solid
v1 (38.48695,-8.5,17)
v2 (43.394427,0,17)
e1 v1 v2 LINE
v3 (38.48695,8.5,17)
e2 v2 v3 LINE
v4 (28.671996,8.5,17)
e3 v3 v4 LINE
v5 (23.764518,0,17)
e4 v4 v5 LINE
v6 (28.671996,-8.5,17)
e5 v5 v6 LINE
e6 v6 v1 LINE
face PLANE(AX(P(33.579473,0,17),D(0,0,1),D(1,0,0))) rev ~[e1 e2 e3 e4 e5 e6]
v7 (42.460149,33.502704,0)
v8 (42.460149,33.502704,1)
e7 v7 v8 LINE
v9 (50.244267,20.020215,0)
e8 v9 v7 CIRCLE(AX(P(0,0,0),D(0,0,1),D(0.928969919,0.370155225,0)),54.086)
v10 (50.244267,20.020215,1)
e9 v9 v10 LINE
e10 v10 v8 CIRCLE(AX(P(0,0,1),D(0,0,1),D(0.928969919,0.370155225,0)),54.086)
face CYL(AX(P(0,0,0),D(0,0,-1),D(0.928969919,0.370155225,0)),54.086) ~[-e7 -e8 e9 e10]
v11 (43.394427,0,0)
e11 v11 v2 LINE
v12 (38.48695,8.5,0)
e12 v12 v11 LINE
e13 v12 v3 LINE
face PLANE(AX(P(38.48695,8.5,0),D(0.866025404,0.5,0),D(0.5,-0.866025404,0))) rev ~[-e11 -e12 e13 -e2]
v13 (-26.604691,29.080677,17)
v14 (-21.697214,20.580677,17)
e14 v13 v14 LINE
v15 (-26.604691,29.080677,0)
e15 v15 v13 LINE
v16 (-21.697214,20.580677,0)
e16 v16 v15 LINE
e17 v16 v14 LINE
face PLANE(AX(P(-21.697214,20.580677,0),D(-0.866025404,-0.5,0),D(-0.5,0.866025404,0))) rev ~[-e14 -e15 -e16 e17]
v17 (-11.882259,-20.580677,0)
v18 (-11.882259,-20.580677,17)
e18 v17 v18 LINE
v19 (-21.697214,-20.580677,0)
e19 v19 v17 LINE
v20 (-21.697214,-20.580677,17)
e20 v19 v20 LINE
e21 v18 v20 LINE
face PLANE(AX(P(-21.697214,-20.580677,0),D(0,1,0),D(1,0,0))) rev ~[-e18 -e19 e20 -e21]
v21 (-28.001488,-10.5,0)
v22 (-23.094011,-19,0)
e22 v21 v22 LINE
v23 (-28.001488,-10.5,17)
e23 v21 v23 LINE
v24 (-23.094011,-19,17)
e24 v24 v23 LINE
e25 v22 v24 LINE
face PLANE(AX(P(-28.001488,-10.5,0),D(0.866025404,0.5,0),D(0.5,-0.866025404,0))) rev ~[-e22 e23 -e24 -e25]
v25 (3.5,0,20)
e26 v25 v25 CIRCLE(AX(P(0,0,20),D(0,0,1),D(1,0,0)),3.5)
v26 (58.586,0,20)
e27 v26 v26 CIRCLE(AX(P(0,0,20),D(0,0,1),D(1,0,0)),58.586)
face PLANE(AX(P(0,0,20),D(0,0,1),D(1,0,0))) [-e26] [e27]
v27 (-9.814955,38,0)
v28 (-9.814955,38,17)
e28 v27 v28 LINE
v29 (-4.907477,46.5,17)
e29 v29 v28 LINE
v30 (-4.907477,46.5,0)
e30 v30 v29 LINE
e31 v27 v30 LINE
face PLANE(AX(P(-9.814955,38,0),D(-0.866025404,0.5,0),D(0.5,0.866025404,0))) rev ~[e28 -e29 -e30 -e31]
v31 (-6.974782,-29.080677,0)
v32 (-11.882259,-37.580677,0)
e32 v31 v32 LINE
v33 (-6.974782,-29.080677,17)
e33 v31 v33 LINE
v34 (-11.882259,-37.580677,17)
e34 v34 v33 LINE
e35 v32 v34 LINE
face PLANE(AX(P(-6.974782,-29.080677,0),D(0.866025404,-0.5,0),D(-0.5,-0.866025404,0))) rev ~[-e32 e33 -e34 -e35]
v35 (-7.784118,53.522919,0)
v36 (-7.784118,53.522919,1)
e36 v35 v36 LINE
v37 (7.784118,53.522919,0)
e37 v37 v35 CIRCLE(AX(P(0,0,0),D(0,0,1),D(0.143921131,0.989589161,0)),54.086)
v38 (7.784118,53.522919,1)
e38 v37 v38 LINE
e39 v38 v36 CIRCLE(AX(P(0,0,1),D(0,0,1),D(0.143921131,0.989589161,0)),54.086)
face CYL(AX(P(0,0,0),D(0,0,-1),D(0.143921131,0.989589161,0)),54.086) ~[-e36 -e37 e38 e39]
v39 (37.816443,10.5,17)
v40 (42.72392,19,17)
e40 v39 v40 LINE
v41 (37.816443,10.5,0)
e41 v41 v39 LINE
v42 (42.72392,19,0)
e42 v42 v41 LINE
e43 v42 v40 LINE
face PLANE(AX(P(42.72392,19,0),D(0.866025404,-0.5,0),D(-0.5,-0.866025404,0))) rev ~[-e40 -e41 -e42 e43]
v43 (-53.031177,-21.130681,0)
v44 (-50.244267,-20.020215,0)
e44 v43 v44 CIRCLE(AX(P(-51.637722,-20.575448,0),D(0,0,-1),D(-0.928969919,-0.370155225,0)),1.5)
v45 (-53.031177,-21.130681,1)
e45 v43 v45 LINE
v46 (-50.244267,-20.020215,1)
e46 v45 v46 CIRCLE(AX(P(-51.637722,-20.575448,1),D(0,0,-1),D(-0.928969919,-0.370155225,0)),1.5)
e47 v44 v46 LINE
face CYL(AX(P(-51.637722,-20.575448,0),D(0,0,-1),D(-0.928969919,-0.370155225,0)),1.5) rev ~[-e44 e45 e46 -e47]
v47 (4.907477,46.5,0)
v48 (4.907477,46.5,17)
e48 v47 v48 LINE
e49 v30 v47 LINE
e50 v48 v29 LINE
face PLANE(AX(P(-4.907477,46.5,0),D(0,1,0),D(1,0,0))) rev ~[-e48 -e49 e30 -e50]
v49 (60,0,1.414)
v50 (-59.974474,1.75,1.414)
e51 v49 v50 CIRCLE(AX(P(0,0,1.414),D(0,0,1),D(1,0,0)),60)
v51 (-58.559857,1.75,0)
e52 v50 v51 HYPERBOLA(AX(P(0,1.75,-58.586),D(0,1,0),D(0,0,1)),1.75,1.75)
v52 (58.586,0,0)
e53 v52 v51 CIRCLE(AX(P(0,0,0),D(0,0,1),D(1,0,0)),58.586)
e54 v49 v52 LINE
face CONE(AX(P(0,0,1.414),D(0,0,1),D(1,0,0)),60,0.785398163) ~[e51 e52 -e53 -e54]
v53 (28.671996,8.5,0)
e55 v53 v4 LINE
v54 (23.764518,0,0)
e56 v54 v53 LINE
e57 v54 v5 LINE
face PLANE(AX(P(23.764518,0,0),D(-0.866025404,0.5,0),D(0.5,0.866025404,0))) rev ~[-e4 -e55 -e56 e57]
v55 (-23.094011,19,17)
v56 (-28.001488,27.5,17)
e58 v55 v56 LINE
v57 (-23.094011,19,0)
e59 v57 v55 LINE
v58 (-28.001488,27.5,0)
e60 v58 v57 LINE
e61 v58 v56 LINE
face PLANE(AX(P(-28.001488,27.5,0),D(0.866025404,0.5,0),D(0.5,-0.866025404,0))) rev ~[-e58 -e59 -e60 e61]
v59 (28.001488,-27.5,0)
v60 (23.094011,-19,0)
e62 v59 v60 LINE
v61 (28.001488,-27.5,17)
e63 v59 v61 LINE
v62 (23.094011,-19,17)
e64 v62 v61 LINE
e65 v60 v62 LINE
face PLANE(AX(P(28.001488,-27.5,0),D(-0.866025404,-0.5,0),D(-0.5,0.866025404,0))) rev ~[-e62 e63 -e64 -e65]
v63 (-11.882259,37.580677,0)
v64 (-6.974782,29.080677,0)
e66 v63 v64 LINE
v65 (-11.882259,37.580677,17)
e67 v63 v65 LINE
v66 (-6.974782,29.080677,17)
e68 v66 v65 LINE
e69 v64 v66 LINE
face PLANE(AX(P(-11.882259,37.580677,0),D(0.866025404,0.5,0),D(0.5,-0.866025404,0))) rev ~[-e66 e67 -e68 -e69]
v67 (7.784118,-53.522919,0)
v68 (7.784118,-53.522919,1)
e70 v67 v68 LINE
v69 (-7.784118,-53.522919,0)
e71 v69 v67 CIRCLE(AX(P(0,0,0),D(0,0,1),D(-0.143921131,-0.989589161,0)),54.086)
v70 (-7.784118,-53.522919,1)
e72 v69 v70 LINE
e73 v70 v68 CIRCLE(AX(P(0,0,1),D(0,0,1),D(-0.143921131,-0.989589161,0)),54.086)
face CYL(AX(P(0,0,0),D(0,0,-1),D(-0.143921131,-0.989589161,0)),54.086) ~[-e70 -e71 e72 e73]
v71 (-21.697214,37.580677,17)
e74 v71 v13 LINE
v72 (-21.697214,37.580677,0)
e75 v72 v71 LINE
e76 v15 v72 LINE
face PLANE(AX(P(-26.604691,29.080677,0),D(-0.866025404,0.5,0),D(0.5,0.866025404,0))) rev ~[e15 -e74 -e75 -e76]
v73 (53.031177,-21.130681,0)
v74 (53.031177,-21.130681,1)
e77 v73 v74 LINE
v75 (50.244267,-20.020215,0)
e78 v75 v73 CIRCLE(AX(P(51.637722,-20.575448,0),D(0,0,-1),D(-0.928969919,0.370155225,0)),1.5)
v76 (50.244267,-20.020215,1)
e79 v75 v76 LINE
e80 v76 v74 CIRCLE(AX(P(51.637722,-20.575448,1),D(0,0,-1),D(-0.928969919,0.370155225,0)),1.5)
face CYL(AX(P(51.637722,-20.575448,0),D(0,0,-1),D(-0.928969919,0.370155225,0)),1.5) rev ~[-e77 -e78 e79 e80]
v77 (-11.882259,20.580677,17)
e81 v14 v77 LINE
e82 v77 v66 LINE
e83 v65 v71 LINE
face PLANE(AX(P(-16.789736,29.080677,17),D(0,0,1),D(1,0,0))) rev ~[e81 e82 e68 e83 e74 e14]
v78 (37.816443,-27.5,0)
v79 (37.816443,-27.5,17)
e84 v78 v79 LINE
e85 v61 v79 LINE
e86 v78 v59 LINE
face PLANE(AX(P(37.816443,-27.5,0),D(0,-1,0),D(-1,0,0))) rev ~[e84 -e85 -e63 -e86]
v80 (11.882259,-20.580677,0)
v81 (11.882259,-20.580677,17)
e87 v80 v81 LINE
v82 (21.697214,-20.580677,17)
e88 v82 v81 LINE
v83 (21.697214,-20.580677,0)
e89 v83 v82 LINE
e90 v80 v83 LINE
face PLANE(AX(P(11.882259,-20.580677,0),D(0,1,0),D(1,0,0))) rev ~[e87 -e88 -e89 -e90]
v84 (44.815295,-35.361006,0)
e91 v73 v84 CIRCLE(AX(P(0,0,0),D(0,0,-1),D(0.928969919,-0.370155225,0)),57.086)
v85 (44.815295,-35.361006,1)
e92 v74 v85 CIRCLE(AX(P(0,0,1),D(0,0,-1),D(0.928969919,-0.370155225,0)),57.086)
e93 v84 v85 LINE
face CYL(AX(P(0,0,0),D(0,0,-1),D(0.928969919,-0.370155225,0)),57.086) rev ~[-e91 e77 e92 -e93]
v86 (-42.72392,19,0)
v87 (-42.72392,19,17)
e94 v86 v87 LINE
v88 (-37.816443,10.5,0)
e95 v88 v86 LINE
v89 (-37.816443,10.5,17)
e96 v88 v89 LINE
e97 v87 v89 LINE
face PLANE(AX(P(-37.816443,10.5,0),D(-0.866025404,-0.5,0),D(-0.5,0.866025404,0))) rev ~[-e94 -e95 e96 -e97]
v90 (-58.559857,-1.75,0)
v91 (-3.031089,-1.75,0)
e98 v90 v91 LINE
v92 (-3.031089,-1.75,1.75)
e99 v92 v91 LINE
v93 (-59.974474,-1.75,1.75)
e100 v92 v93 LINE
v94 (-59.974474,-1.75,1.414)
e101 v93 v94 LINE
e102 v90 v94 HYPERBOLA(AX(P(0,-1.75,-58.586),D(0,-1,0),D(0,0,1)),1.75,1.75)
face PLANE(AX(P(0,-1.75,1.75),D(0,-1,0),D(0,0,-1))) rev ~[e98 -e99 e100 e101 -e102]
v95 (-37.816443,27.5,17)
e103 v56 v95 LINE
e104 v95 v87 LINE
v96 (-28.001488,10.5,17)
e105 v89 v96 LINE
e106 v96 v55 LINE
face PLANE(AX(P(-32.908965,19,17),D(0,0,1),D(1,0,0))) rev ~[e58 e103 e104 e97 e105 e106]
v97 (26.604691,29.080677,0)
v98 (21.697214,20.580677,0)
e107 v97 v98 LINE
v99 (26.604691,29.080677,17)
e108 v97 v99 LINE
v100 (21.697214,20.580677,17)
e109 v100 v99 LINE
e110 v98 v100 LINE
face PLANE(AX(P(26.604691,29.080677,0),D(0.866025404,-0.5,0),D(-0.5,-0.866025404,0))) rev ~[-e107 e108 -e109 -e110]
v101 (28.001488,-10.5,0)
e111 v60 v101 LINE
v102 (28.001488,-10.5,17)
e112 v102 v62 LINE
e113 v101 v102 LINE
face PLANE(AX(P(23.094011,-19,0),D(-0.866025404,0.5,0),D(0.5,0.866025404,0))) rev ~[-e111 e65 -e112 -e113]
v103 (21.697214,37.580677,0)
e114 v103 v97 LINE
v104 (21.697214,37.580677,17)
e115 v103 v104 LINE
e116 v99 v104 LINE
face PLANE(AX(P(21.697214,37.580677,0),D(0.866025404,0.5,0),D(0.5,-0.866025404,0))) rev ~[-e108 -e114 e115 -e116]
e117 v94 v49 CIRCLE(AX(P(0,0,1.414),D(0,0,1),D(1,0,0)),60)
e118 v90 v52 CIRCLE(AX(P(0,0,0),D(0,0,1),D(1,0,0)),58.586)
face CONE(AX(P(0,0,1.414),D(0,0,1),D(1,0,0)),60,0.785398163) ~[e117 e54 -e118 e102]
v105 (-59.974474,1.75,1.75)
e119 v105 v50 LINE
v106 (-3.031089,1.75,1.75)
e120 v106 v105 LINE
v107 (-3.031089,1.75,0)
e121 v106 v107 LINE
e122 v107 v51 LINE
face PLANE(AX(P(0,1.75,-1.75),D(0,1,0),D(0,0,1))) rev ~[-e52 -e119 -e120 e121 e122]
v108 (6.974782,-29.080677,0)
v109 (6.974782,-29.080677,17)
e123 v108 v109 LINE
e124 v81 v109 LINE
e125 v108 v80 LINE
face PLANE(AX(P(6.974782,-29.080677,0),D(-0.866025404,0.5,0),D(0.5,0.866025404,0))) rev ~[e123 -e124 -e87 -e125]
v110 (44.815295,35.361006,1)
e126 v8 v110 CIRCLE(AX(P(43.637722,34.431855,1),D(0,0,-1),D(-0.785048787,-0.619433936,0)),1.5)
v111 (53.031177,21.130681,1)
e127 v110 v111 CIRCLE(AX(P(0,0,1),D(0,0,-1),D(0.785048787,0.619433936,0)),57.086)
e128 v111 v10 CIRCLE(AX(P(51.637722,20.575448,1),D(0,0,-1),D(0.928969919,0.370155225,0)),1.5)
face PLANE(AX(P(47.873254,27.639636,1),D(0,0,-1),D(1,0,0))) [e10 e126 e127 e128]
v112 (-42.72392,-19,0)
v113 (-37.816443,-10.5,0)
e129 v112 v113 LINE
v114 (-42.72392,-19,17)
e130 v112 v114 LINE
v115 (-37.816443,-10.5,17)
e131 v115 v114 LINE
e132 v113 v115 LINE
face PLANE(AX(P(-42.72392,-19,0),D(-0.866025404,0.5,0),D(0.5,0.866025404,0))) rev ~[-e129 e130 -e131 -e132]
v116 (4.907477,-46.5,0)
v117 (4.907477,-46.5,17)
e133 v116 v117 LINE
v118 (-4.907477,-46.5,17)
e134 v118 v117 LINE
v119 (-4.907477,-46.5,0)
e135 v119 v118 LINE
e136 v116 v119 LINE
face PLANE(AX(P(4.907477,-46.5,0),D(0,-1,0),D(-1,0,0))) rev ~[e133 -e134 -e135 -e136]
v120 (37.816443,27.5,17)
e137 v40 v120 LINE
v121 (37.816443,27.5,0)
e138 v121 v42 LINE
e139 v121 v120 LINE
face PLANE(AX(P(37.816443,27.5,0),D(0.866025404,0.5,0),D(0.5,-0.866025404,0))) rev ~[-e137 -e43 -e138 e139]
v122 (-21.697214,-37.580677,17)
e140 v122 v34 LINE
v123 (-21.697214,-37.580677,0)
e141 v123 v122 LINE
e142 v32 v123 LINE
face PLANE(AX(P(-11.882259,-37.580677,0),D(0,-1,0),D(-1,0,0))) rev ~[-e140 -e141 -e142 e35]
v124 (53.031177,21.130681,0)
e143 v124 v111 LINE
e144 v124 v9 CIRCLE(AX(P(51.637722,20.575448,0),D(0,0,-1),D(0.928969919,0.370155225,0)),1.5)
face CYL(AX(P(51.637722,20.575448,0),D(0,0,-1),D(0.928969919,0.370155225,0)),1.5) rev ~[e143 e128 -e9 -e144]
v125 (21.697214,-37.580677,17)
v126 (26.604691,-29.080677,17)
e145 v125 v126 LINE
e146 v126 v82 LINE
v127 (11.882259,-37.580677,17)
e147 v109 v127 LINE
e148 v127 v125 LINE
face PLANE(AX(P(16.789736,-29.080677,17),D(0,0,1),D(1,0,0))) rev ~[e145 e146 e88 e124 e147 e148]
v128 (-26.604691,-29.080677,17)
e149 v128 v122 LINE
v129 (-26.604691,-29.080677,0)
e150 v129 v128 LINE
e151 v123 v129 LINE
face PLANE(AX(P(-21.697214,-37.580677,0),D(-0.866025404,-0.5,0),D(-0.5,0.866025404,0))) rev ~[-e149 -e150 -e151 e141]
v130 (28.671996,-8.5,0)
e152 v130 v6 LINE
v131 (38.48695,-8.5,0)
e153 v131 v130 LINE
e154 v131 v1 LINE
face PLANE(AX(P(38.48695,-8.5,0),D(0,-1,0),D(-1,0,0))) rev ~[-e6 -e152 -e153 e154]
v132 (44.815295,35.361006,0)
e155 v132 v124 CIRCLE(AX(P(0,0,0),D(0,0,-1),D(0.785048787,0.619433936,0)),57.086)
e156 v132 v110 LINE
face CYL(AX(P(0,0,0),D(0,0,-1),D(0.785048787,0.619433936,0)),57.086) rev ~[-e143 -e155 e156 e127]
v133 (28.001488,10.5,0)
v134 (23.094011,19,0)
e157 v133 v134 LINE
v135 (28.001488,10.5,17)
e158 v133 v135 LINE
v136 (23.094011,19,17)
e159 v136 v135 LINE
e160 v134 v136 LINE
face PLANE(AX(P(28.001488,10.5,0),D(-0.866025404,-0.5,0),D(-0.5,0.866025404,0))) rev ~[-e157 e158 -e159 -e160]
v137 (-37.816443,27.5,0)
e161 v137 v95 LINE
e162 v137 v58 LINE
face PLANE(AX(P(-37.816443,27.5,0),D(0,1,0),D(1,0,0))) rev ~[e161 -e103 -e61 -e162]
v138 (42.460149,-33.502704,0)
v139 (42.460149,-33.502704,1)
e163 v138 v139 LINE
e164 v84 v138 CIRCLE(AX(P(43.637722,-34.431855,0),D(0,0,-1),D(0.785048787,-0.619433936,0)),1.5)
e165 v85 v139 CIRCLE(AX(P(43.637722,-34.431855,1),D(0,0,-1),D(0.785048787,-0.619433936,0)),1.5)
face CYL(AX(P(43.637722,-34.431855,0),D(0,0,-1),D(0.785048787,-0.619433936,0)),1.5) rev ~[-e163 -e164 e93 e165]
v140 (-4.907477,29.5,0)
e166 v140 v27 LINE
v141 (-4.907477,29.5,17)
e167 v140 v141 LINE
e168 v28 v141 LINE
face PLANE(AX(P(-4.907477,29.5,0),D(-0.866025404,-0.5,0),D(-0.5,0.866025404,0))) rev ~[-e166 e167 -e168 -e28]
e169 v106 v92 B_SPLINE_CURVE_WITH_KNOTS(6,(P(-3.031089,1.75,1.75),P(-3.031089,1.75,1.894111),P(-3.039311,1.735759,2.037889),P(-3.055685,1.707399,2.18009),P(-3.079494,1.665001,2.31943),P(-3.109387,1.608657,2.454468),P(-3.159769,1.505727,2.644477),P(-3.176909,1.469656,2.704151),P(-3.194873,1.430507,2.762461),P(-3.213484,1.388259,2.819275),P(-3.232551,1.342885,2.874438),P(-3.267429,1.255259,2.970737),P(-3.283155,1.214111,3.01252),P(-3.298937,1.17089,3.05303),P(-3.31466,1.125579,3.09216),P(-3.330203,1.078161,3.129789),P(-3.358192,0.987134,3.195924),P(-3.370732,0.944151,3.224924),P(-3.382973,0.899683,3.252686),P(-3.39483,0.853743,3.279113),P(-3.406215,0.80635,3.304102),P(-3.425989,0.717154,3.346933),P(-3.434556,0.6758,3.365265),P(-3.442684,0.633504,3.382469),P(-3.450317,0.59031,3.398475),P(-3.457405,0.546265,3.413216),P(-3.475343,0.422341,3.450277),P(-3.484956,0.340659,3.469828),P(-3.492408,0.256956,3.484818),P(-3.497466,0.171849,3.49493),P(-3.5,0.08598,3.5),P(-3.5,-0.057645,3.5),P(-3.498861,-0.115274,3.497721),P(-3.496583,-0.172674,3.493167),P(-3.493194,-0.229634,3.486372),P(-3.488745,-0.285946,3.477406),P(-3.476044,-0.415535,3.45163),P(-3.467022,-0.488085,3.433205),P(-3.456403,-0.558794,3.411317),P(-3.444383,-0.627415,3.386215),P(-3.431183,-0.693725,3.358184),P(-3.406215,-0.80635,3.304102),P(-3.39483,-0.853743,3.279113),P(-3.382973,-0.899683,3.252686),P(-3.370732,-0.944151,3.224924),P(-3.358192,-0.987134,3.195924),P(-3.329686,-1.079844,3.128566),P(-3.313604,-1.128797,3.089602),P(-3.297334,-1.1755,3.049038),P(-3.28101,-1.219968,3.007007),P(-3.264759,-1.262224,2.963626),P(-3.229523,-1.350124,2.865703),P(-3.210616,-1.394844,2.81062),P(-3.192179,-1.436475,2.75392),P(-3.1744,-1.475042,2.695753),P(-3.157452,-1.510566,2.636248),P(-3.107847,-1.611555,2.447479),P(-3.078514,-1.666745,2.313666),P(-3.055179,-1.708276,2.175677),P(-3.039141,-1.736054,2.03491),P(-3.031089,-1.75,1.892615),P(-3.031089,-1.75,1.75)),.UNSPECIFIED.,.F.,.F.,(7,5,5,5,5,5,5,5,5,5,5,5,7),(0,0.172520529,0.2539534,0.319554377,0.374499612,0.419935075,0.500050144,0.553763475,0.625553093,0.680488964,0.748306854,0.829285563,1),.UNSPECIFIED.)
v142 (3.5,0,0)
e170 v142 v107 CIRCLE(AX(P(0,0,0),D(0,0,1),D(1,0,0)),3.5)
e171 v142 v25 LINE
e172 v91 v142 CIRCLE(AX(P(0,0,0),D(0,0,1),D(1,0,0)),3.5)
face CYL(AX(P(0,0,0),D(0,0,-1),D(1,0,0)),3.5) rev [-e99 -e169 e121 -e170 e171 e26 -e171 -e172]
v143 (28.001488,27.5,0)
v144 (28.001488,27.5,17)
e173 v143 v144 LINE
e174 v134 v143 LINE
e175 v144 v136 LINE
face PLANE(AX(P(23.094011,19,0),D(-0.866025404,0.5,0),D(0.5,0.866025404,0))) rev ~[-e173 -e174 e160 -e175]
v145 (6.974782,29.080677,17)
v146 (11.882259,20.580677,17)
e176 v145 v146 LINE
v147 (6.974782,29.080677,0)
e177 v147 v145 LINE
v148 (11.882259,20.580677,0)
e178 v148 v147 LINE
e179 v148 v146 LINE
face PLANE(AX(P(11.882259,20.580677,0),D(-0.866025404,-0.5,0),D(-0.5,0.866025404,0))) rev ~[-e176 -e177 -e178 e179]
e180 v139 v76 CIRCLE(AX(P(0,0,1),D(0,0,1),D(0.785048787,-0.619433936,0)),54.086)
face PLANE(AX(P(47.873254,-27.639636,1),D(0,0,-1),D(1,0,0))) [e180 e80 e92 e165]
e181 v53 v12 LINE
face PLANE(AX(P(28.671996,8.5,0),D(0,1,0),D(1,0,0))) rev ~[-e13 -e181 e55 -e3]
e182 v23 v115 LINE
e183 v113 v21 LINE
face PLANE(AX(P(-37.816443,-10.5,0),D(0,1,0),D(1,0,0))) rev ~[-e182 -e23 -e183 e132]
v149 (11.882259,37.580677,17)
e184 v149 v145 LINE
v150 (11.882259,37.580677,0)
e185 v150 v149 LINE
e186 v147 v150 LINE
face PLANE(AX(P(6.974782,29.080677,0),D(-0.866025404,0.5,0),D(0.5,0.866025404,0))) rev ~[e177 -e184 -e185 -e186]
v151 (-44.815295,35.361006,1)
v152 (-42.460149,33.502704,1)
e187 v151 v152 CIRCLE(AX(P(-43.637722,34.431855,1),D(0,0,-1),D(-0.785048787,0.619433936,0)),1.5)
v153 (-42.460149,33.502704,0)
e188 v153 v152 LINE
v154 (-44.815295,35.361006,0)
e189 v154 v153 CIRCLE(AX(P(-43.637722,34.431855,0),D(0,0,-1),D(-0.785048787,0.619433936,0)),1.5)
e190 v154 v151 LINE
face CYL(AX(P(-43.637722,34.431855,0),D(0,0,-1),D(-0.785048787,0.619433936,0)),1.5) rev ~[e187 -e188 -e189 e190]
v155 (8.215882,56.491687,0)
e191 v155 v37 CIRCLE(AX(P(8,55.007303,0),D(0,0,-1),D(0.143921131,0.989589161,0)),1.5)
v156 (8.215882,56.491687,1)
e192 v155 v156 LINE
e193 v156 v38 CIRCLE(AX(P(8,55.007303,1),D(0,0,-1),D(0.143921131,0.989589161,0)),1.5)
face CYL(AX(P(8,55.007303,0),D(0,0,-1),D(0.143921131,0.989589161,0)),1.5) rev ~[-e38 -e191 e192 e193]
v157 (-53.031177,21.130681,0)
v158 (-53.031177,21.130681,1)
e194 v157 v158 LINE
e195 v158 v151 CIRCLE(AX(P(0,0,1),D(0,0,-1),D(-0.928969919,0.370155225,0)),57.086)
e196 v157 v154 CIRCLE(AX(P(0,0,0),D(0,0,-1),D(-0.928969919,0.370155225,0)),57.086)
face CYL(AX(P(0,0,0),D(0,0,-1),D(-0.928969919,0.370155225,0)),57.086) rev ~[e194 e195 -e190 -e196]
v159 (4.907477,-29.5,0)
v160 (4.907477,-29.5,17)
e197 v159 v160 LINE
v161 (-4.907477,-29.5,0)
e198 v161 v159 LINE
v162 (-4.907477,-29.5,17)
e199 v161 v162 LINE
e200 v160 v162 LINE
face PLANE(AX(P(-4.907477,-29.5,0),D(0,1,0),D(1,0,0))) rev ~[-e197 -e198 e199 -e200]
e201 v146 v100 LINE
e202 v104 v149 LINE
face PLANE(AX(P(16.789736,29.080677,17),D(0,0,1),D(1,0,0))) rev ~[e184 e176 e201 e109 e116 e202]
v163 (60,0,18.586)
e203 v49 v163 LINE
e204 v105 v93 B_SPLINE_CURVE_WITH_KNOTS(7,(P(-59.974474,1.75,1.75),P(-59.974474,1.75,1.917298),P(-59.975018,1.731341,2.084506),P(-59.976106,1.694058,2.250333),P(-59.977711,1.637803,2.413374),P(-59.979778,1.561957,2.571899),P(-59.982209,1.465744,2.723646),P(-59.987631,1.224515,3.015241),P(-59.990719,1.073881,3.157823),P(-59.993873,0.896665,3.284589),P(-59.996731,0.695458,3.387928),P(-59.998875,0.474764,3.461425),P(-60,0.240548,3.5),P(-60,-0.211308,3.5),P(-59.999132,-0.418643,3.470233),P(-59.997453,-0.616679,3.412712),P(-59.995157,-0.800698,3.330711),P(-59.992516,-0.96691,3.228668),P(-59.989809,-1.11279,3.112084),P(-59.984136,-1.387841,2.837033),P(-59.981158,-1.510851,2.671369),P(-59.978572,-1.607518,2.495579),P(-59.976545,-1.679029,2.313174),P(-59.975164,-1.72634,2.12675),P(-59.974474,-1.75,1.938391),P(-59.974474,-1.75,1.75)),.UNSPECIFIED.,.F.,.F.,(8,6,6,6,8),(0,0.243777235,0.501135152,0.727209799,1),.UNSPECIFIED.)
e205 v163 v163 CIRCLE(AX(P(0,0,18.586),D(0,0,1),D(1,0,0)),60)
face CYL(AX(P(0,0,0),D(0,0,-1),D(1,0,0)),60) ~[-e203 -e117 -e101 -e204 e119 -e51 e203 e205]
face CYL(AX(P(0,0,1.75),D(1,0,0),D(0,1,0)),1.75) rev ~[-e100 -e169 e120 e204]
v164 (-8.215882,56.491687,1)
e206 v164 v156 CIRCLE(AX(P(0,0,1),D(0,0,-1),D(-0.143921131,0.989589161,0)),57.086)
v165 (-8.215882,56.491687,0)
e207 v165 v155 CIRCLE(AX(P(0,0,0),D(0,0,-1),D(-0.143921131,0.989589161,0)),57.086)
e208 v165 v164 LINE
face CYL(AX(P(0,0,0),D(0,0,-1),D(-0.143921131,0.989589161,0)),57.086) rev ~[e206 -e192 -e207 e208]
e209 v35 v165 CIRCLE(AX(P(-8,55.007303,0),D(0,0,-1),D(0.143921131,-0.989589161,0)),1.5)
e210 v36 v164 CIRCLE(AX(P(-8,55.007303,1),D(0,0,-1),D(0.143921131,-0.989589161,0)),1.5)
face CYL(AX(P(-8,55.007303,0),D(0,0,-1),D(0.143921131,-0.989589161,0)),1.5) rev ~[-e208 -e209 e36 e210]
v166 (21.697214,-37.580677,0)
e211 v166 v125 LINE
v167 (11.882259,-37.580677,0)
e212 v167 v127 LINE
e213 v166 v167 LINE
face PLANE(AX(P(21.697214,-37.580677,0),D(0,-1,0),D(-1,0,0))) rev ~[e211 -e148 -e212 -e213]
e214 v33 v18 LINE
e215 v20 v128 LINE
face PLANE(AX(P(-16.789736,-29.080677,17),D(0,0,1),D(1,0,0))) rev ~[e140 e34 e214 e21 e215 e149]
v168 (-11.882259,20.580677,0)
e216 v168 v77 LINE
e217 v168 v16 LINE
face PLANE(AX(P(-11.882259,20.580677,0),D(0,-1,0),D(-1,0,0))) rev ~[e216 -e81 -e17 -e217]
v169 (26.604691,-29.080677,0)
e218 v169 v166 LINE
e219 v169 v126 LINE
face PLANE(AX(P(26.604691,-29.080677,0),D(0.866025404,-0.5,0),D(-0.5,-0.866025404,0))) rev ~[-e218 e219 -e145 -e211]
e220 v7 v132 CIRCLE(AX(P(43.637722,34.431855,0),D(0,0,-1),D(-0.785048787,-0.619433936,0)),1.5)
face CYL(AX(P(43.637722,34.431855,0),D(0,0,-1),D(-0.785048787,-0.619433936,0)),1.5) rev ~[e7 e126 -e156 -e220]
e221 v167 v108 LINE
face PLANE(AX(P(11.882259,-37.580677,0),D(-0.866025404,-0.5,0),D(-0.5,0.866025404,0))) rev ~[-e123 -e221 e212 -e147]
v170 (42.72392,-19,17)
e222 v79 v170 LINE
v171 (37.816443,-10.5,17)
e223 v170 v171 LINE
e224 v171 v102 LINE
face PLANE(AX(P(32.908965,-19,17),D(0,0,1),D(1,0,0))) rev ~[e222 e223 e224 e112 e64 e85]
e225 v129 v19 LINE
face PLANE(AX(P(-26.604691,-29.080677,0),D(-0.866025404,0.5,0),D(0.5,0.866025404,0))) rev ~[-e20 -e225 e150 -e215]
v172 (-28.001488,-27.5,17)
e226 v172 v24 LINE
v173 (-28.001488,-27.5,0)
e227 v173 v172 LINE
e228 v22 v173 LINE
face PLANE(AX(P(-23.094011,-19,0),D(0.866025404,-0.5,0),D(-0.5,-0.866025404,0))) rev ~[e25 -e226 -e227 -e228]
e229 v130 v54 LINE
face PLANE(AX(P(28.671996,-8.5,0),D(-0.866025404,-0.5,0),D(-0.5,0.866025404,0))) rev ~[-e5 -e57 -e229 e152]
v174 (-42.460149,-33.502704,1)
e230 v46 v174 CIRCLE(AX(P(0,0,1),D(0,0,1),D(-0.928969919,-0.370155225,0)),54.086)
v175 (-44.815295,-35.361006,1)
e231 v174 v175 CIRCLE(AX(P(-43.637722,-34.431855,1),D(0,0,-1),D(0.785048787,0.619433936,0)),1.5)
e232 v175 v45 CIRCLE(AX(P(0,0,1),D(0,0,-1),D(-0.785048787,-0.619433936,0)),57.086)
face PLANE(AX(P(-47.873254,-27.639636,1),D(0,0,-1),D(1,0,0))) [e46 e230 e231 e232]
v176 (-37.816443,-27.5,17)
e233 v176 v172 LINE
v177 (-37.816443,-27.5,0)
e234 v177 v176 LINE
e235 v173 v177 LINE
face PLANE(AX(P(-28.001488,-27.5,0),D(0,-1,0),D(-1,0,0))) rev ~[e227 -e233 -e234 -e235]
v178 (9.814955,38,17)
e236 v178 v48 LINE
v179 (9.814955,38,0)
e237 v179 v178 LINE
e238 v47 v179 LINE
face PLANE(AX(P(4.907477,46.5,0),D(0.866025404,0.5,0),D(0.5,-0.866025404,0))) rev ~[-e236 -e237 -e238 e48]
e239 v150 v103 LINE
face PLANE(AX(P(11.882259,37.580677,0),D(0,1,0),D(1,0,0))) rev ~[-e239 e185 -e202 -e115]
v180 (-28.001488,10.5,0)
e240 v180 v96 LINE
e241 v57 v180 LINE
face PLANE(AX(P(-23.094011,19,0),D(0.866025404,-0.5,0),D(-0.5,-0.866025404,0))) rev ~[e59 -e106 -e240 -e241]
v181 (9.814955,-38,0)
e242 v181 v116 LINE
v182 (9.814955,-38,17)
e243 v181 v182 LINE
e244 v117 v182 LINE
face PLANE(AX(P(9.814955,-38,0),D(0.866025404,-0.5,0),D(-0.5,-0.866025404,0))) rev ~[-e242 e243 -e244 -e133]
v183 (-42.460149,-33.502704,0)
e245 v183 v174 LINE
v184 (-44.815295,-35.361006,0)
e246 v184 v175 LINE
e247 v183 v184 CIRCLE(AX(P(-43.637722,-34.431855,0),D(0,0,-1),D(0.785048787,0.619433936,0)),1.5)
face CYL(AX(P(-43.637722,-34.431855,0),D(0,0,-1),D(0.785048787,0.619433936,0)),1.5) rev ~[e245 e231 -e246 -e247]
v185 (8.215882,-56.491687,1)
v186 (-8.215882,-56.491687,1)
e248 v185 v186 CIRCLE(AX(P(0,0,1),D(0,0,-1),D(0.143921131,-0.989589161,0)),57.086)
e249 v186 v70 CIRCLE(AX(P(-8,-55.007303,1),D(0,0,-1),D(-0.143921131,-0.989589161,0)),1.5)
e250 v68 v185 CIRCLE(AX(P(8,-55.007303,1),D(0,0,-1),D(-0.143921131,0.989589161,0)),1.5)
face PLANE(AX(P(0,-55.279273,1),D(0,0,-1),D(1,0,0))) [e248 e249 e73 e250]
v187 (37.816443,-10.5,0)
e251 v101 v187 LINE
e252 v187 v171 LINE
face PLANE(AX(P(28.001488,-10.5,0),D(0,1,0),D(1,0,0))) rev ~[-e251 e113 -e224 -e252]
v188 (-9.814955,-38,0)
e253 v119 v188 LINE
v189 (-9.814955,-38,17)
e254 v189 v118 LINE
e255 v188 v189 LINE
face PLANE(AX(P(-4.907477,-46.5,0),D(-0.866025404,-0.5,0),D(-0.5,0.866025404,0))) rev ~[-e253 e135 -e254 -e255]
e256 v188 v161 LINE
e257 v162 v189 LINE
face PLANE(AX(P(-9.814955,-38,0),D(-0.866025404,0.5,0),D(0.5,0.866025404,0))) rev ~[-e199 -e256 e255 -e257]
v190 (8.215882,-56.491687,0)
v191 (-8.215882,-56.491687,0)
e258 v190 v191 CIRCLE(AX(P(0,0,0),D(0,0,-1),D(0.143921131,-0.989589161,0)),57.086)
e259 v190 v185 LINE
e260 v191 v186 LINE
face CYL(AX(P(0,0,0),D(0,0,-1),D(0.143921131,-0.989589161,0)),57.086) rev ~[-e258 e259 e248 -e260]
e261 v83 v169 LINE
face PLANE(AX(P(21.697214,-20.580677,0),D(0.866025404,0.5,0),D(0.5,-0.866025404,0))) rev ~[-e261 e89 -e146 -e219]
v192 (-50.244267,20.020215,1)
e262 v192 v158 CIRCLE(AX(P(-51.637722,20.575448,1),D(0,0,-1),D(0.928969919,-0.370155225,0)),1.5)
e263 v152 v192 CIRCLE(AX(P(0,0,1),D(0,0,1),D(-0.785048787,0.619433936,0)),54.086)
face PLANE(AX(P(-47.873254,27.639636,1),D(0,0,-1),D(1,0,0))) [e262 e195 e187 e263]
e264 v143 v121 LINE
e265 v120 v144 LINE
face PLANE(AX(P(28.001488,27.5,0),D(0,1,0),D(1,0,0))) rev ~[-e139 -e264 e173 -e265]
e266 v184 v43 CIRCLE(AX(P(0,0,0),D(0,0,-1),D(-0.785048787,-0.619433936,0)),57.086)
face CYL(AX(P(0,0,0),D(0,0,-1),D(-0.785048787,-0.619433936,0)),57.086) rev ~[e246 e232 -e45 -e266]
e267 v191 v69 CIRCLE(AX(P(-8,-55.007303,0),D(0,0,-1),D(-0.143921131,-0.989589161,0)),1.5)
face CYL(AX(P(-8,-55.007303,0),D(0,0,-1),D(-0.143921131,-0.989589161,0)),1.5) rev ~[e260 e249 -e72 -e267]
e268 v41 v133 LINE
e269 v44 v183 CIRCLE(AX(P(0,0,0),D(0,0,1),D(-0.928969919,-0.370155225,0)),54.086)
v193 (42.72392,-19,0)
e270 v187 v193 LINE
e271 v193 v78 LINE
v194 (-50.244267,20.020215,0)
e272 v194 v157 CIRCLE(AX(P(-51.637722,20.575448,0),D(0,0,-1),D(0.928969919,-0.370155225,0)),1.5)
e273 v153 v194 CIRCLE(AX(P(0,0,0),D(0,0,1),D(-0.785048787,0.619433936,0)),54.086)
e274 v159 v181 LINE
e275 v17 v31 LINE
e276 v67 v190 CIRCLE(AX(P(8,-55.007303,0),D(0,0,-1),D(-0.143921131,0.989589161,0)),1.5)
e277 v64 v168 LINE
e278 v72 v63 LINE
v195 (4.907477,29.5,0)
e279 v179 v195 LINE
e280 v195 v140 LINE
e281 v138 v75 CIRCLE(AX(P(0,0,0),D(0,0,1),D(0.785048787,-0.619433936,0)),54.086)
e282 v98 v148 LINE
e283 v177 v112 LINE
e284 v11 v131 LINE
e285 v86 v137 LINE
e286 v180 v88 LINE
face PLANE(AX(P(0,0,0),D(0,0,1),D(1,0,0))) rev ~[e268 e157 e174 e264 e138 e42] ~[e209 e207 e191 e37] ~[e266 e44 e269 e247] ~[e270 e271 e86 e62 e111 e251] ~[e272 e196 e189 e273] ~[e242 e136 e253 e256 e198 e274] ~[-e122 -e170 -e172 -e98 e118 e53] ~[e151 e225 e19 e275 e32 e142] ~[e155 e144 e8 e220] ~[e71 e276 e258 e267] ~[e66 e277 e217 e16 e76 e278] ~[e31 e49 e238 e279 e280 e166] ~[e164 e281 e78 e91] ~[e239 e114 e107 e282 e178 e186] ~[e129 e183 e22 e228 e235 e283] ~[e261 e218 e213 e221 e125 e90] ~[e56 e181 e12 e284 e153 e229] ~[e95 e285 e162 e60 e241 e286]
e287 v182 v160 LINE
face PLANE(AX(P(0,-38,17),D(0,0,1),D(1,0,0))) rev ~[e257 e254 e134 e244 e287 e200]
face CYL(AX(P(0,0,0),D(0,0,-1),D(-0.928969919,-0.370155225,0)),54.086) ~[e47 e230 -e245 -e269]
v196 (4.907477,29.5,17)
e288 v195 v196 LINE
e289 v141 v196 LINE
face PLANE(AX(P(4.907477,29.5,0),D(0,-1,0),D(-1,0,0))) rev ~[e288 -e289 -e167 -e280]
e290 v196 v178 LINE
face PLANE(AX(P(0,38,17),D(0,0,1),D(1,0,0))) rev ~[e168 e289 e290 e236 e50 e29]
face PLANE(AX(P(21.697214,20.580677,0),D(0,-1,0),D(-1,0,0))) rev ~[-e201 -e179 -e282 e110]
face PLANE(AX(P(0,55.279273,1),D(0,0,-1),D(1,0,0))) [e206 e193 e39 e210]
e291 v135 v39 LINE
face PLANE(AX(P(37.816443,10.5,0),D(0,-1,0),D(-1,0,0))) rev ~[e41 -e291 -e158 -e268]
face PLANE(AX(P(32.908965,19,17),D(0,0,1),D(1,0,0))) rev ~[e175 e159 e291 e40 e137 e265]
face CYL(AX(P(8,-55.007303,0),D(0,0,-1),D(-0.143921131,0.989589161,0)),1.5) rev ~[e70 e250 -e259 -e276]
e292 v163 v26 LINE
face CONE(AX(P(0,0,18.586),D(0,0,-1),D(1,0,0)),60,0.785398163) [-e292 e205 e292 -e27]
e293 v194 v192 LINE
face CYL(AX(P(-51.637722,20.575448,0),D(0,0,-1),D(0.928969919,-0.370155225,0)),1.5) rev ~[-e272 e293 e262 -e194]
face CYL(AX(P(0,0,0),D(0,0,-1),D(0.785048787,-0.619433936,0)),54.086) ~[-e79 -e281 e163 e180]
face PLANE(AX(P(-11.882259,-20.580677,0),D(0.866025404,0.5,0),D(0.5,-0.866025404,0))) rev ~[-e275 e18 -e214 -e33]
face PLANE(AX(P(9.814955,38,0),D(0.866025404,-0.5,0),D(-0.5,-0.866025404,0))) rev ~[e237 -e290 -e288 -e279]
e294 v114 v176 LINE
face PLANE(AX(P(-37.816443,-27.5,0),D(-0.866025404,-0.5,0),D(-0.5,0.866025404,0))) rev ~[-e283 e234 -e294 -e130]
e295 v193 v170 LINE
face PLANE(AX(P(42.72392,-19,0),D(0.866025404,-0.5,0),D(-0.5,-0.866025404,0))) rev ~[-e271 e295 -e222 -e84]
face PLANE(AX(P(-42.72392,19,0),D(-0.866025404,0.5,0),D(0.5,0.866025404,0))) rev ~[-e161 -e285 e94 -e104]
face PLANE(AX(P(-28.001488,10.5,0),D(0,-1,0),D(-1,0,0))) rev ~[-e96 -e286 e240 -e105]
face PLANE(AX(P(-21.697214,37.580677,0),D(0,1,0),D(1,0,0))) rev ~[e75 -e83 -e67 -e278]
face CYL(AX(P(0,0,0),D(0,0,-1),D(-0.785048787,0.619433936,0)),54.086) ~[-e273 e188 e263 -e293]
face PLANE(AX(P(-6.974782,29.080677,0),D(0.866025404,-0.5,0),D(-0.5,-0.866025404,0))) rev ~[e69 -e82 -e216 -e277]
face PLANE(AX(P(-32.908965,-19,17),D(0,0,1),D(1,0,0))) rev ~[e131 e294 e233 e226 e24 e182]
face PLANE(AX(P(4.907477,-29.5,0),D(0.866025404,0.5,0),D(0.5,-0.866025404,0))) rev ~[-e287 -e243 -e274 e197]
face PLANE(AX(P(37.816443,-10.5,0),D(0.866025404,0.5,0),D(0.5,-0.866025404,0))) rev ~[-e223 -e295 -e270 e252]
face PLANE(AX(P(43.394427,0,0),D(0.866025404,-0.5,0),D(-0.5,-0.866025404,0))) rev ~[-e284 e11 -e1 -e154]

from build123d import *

# Parameters (mm, degrees)
F0_R     = 60
F0_R_2   = 3.5
F1_DEPTH = 20
F2_START = 17
F2_DEPTH = 3
F3_SIZE  = 1.414
F4_SIZE  = 1.414
F6_DEPTH = 150
F8_DEPTH = 1


with BuildPart() as f1:
    # F0 (on Top) → F1 (new body)
    with BuildSketch(Plane.XY):
        Circle(F0_R)
        Polygon((-28.0014880557, -10.5), (-23.0940107676, -19), (-28.0014880557, -27.5), (-37.8164426319, -27.5), (-42.72391992, -19), (-37.8164426319, -10.5), align=None, mode=Mode.SUBTRACT)
        Polygon((-21.6972137465, -20.5806765917), (-11.8822591703, -20.5806765917), (-6.9747818822, -29.0806765917), (-11.8822591703, -37.5806765917), (-21.6972137465, -37.5806765917), (-26.6046910346, -29.0806765917), align=None, mode=Mode.SUBTRACT)
        Polygon((-4.9074772881, -29.5), (4.9074772881, -29.5), (9.8149545762, -38), (4.9074772881, -46.5), (-4.9074772881, -46.5), (-9.8149545762, -38), align=None, mode=Mode.SUBTRACT)
        Polygon((6.9747818822, -29.0806765917), (11.8822591703, -20.5806765917), (21.6972137465, -20.5806765917), (26.6046910346, -29.0806765917), (21.6972137465, -37.5806765917), (11.8822591703, -37.5806765917), align=None, mode=Mode.SUBTRACT)
        Polygon((23.0940107676, -19), (28.0014880557, -10.5), (37.8164426319, -10.5), (42.72391992, -19), (37.8164426319, -27.5), (28.0014880557, -27.5), align=None, mode=Mode.SUBTRACT)
        Polygon((-23.0940107676, 19), (-28.0014880557, 10.5), (-37.8164426319, 10.5), (-42.72391992, 19), (-37.8164426319, 27.5), (-28.0014880557, 27.5), align=None, mode=Mode.SUBTRACT)
        Polygon((-26.6046910346, 29.0806765917), (-21.6972137465, 37.5806765917), (-11.8822591703, 37.5806765917), (-6.9747818822, 29.0806765917), (-11.8822591703, 20.5806765917), (-21.6972137465, 20.5806765917), align=None, mode=Mode.SUBTRACT)
        Circle(F0_R_2, mode=Mode.SUBTRACT)
        Polygon((21.6972137465, 20.5806765917), (11.8822591703, 20.5806765917), (6.9747818822, 29.0806765917), (11.8822591703, 37.5806765917), (21.6972137465, 37.5806765917), (26.6046910346, 29.0806765917), align=None, mode=Mode.SUBTRACT)
        Polygon((28.6719956287, -8.5), (23.7645183406, 0), (28.6719956287, 8.5), (38.4869502049, 8.5), (43.3944274931, 0), (38.4869502049, -8.5), align=None, mode=Mode.SUBTRACT)
        Polygon((28.0014880557, 10.5), (23.0940107676, 19), (28.0014880557, 27.5), (37.8164426319, 27.5), (42.72391992, 19), (37.8164426319, 10.5), align=None, mode=Mode.SUBTRACT)
        Polygon((9.8149545762, 38), (4.9074772881, 29.5), (-4.9074772881, 29.5), (-9.8149545762, 38), (-4.9074772881, 46.5), (4.9074772881, 46.5), align=None, mode=Mode.SUBTRACT)
    extrude(amount=F1_DEPTH)

    # F0 (on Top) → F2 (join)
    with BuildSketch(Plane.XY.offset(F2_START)):
        Polygon((-37.8164426319, 10.5), (-28.0014880557, 10.5), (-23.0940107676, 19), (-28.0014880557, 27.5), (-37.8164426319, 27.5), (-42.72391992, 19), align=None)
        Polygon((-4.9074772881, 29.5), (4.9074772881, 29.5), (9.8149545762, 38), (4.9074772881, 46.5), (-4.9074772881, 46.5), (-9.8149545762, 38), align=None)
        Polygon((28.0014880557, 27.5), (23.0940107676, 19), (28.0014880557, 10.5), (37.8164426319, 10.5), (42.72391992, 19), (37.8164426319, 27.5), align=None)
        Polygon((37.8164426319, -10.5), (28.0014880557, -10.5), (23.0940107676, -19), (28.0014880557, -27.5), (37.8164426319, -27.5), (42.72391992, -19), align=None)
        Polygon((9.8149545762, -38), (4.9074772881, -29.5), (-4.9074772881, -29.5), (-9.8149545762, -38), (-4.9074772881, -46.5), (4.9074772881, -46.5), align=None)
        Polygon((-28.0014880557, -27.5), (-23.0940107676, -19), (-28.0014880557, -10.5), (-37.8164426319, -10.5), (-42.72391992, -19), (-37.8164426319, -27.5), align=None)
        Polygon((-6.9747818822, -29.0806765917), (-11.8822591703, -20.5806765917), (-21.6972137465, -20.5806765917), (-26.6046910346, -29.0806765917), (-21.6972137465, -37.5806765917), (-11.8822591703, -37.5806765917), align=None)
        Polygon((21.6972137465, -20.5806765917), (11.8822591703, -20.5806765917), (6.9747818822, -29.0806765917), (11.8822591703, -37.5806765917), (21.6972137465, -37.5806765917), (26.6046910346, -29.0806765917), align=None)
        Polygon((28.6719956287, 8.5), (23.7645183406, 0), (28.6719956287, -8.5), (38.4869502049, -8.5), (43.3944274931, 0), (38.4869502049, 8.5), align=None)
        Polygon((6.9747818822, 29.0806765917), (11.8822591703, 20.5806765917), (21.6972137465, 20.5806765917), (26.6046910346, 29.0806765917), (21.6972137465, 37.5806765917), (11.8822591703, 37.5806765917), align=None)
        Polygon((-11.8822591703, 37.5806765917), (-21.6972137465, 37.5806765917), (-26.6046910346, 29.0806765917), (-21.6972137465, 20.5806765917), (-11.8822591703, 20.5806765917), (-6.9747818822, 29.0806765917), align=None)
    extrude(amount=F2_DEPTH)

    # F3
    f3_edges = [f1.edges().sort_by_distance(p)[0] for p in [
        (-60, 0, 20),
    ]]
    chamfer(f3_edges, length=F3_SIZE)

    # F4
    f4_edges = [f1.edges().sort_by_distance(p)[0] for p in [
        (-60, 0, 0),
    ]]
    chamfer(f4_edges, length=F4_SIZE)

    # F5 (on Right) → F6 (cut)
    with BuildSketch(Plane.YZ):
        with BuildLine():
            Line((-1.75, 1.75), (1.75, 1.75))
            ThreePointArc((1.75, 1.75), (0, 3.5), (-1.75, 1.75))
        make_face()
        with BuildLine():
            Line((1.75, -1.75), (1.75, 1.75))
            ThreePointArc((1.75, 1.75), (0, 0), (-1.75, 1.75))
            Line((-1.75, 1.75), (-1.75, -1.75))
            Line((-1.75, -1.75), (1.75, -1.75))
        make_face()
        with BuildLine():
            ThreePointArc((-1.75, 1.75), (0, 0), (1.75, 1.75))
            Line((1.75, 1.75), (-1.75, 1.75))
        make_face()
    extrude(amount=-F6_DEPTH, mode=Mode.SUBTRACT)

    # F7 (on face) → F8 (cut)
    with BuildSketch(Plane(origin=(0, 0, 0), x_dir=(1, 0, 0), z_dir=(0, 0, -1))):
        with BuildLine():
            ThreePointArc((-44.8152950723, -35.3610056924), (-42.7085709868, -35.6094279688), (-42.4601487104, -33.5027038833))
            ThreePointArc((-42.4601487104, -33.5027038833), (-46.8398499891, -27.043), (-50.2442670136, -20.02021549))
            ThreePointArc((-50.2442670136, -20.02021549), (-52.1929547286, -19.1819934495), (-53.0311767692, -21.1306811645))
            ThreePointArc((-53.0311767692, -21.1306811645), (-49.4379262004, -28.543), (-44.8152950723, -35.3610056924))
        make_face()
        with BuildLine():
            ThreePointArc((-53.0311767692, 21.1306811645), (-52.1929547286, 19.1819934495), (-50.2442670136, 20.02021549))
            ThreePointArc((-50.2442670136, 20.02021549), (-46.8398499891, 27.043), (-42.4601487104, 33.5027038833))
            ThreePointArc((-42.4601487104, 33.5027038833), (-42.7085709868, 35.6094279688), (-44.8152950723, 35.3610056924))
            ThreePointArc((-44.8152950723, 35.3610056924), (-49.4379262004, 28.543), (-53.0311767692, 21.1306811645))
        make_face()
        with BuildLine():
            ThreePointArc((-8.2158816968, 56.4916868569), (-9.4843837418, 54.7914214183), (-7.7841183032, 53.5229193733))
            ThreePointArc((-7.7841183032, 53.5229193733), (0, 54.086), (7.7841183032, 53.5229193733))
            ThreePointArc((7.7841183032, 53.5229193733), (9.4843837418, 54.7914214183), (8.2158816968, 56.4916868569))
            ThreePointArc((8.2158816968, 56.4916868569), (0, 57.086), (-8.2158816968, 56.4916868569))
        make_face()
        with BuildLine():
            ThreePointArc((44.8152950723, 35.3610056924), (42.7085709868, 35.6094279688), (42.4601487104, 33.5027038833))
            ThreePointArc((42.4601487104, 33.5027038833), (46.8398499891, 27.043), (50.2442670136, 20.02021549))
            ThreePointArc((50.2442670136, 20.02021549), (52.1929547286, 19.1819934495), (53.0311767692, 21.1306811645))
            ThreePointArc((53.0311767692, 21.1306811645), (49.4379262004, 28.543), (44.8152950723, 35.3610056924))
        make_face()
        with BuildLine():
            ThreePointArc((53.0311767692, -21.1306811645), (52.1929547286, -19.1819934495), (50.2442670136, -20.02021549))
            ThreePointArc((50.2442670136, -20.02021549), (46.8398499891, -27.043), (42.4601487104, -33.5027038833))
            ThreePointArc((42.4601487104, -33.5027038833), (42.7085709868, -35.6094279688), (44.8152950723, -35.3610056924))
            ThreePointArc((44.8152950723, -35.3610056924), (49.4379262004, -28.543), (53.0311767692, -21.1306811645))
        make_face()
        with BuildLine():
            ThreePointArc((8.2158816968, -56.4916868569), (9.4843837418, -54.7914214183), (7.7841183032, -53.5229193733))
            ThreePointArc((7.7841183032, -53.5229193733), (0, -54.086), (-7.7841183032, -53.5229193733))
            ThreePointArc((-7.7841183032, -53.5229193733), (-9.4843837418, -54.7914214183), (-8.2158816968, -56.4916868569))
            ThreePointArc((-8.2158816968, -56.4916868569), (0, -57.086), (8.2158816968, -56.4916868569))
        make_face()
    extrude(amount=-F8_DEPTH, mode=Mode.SUBTRACT)


solid = f1.part
